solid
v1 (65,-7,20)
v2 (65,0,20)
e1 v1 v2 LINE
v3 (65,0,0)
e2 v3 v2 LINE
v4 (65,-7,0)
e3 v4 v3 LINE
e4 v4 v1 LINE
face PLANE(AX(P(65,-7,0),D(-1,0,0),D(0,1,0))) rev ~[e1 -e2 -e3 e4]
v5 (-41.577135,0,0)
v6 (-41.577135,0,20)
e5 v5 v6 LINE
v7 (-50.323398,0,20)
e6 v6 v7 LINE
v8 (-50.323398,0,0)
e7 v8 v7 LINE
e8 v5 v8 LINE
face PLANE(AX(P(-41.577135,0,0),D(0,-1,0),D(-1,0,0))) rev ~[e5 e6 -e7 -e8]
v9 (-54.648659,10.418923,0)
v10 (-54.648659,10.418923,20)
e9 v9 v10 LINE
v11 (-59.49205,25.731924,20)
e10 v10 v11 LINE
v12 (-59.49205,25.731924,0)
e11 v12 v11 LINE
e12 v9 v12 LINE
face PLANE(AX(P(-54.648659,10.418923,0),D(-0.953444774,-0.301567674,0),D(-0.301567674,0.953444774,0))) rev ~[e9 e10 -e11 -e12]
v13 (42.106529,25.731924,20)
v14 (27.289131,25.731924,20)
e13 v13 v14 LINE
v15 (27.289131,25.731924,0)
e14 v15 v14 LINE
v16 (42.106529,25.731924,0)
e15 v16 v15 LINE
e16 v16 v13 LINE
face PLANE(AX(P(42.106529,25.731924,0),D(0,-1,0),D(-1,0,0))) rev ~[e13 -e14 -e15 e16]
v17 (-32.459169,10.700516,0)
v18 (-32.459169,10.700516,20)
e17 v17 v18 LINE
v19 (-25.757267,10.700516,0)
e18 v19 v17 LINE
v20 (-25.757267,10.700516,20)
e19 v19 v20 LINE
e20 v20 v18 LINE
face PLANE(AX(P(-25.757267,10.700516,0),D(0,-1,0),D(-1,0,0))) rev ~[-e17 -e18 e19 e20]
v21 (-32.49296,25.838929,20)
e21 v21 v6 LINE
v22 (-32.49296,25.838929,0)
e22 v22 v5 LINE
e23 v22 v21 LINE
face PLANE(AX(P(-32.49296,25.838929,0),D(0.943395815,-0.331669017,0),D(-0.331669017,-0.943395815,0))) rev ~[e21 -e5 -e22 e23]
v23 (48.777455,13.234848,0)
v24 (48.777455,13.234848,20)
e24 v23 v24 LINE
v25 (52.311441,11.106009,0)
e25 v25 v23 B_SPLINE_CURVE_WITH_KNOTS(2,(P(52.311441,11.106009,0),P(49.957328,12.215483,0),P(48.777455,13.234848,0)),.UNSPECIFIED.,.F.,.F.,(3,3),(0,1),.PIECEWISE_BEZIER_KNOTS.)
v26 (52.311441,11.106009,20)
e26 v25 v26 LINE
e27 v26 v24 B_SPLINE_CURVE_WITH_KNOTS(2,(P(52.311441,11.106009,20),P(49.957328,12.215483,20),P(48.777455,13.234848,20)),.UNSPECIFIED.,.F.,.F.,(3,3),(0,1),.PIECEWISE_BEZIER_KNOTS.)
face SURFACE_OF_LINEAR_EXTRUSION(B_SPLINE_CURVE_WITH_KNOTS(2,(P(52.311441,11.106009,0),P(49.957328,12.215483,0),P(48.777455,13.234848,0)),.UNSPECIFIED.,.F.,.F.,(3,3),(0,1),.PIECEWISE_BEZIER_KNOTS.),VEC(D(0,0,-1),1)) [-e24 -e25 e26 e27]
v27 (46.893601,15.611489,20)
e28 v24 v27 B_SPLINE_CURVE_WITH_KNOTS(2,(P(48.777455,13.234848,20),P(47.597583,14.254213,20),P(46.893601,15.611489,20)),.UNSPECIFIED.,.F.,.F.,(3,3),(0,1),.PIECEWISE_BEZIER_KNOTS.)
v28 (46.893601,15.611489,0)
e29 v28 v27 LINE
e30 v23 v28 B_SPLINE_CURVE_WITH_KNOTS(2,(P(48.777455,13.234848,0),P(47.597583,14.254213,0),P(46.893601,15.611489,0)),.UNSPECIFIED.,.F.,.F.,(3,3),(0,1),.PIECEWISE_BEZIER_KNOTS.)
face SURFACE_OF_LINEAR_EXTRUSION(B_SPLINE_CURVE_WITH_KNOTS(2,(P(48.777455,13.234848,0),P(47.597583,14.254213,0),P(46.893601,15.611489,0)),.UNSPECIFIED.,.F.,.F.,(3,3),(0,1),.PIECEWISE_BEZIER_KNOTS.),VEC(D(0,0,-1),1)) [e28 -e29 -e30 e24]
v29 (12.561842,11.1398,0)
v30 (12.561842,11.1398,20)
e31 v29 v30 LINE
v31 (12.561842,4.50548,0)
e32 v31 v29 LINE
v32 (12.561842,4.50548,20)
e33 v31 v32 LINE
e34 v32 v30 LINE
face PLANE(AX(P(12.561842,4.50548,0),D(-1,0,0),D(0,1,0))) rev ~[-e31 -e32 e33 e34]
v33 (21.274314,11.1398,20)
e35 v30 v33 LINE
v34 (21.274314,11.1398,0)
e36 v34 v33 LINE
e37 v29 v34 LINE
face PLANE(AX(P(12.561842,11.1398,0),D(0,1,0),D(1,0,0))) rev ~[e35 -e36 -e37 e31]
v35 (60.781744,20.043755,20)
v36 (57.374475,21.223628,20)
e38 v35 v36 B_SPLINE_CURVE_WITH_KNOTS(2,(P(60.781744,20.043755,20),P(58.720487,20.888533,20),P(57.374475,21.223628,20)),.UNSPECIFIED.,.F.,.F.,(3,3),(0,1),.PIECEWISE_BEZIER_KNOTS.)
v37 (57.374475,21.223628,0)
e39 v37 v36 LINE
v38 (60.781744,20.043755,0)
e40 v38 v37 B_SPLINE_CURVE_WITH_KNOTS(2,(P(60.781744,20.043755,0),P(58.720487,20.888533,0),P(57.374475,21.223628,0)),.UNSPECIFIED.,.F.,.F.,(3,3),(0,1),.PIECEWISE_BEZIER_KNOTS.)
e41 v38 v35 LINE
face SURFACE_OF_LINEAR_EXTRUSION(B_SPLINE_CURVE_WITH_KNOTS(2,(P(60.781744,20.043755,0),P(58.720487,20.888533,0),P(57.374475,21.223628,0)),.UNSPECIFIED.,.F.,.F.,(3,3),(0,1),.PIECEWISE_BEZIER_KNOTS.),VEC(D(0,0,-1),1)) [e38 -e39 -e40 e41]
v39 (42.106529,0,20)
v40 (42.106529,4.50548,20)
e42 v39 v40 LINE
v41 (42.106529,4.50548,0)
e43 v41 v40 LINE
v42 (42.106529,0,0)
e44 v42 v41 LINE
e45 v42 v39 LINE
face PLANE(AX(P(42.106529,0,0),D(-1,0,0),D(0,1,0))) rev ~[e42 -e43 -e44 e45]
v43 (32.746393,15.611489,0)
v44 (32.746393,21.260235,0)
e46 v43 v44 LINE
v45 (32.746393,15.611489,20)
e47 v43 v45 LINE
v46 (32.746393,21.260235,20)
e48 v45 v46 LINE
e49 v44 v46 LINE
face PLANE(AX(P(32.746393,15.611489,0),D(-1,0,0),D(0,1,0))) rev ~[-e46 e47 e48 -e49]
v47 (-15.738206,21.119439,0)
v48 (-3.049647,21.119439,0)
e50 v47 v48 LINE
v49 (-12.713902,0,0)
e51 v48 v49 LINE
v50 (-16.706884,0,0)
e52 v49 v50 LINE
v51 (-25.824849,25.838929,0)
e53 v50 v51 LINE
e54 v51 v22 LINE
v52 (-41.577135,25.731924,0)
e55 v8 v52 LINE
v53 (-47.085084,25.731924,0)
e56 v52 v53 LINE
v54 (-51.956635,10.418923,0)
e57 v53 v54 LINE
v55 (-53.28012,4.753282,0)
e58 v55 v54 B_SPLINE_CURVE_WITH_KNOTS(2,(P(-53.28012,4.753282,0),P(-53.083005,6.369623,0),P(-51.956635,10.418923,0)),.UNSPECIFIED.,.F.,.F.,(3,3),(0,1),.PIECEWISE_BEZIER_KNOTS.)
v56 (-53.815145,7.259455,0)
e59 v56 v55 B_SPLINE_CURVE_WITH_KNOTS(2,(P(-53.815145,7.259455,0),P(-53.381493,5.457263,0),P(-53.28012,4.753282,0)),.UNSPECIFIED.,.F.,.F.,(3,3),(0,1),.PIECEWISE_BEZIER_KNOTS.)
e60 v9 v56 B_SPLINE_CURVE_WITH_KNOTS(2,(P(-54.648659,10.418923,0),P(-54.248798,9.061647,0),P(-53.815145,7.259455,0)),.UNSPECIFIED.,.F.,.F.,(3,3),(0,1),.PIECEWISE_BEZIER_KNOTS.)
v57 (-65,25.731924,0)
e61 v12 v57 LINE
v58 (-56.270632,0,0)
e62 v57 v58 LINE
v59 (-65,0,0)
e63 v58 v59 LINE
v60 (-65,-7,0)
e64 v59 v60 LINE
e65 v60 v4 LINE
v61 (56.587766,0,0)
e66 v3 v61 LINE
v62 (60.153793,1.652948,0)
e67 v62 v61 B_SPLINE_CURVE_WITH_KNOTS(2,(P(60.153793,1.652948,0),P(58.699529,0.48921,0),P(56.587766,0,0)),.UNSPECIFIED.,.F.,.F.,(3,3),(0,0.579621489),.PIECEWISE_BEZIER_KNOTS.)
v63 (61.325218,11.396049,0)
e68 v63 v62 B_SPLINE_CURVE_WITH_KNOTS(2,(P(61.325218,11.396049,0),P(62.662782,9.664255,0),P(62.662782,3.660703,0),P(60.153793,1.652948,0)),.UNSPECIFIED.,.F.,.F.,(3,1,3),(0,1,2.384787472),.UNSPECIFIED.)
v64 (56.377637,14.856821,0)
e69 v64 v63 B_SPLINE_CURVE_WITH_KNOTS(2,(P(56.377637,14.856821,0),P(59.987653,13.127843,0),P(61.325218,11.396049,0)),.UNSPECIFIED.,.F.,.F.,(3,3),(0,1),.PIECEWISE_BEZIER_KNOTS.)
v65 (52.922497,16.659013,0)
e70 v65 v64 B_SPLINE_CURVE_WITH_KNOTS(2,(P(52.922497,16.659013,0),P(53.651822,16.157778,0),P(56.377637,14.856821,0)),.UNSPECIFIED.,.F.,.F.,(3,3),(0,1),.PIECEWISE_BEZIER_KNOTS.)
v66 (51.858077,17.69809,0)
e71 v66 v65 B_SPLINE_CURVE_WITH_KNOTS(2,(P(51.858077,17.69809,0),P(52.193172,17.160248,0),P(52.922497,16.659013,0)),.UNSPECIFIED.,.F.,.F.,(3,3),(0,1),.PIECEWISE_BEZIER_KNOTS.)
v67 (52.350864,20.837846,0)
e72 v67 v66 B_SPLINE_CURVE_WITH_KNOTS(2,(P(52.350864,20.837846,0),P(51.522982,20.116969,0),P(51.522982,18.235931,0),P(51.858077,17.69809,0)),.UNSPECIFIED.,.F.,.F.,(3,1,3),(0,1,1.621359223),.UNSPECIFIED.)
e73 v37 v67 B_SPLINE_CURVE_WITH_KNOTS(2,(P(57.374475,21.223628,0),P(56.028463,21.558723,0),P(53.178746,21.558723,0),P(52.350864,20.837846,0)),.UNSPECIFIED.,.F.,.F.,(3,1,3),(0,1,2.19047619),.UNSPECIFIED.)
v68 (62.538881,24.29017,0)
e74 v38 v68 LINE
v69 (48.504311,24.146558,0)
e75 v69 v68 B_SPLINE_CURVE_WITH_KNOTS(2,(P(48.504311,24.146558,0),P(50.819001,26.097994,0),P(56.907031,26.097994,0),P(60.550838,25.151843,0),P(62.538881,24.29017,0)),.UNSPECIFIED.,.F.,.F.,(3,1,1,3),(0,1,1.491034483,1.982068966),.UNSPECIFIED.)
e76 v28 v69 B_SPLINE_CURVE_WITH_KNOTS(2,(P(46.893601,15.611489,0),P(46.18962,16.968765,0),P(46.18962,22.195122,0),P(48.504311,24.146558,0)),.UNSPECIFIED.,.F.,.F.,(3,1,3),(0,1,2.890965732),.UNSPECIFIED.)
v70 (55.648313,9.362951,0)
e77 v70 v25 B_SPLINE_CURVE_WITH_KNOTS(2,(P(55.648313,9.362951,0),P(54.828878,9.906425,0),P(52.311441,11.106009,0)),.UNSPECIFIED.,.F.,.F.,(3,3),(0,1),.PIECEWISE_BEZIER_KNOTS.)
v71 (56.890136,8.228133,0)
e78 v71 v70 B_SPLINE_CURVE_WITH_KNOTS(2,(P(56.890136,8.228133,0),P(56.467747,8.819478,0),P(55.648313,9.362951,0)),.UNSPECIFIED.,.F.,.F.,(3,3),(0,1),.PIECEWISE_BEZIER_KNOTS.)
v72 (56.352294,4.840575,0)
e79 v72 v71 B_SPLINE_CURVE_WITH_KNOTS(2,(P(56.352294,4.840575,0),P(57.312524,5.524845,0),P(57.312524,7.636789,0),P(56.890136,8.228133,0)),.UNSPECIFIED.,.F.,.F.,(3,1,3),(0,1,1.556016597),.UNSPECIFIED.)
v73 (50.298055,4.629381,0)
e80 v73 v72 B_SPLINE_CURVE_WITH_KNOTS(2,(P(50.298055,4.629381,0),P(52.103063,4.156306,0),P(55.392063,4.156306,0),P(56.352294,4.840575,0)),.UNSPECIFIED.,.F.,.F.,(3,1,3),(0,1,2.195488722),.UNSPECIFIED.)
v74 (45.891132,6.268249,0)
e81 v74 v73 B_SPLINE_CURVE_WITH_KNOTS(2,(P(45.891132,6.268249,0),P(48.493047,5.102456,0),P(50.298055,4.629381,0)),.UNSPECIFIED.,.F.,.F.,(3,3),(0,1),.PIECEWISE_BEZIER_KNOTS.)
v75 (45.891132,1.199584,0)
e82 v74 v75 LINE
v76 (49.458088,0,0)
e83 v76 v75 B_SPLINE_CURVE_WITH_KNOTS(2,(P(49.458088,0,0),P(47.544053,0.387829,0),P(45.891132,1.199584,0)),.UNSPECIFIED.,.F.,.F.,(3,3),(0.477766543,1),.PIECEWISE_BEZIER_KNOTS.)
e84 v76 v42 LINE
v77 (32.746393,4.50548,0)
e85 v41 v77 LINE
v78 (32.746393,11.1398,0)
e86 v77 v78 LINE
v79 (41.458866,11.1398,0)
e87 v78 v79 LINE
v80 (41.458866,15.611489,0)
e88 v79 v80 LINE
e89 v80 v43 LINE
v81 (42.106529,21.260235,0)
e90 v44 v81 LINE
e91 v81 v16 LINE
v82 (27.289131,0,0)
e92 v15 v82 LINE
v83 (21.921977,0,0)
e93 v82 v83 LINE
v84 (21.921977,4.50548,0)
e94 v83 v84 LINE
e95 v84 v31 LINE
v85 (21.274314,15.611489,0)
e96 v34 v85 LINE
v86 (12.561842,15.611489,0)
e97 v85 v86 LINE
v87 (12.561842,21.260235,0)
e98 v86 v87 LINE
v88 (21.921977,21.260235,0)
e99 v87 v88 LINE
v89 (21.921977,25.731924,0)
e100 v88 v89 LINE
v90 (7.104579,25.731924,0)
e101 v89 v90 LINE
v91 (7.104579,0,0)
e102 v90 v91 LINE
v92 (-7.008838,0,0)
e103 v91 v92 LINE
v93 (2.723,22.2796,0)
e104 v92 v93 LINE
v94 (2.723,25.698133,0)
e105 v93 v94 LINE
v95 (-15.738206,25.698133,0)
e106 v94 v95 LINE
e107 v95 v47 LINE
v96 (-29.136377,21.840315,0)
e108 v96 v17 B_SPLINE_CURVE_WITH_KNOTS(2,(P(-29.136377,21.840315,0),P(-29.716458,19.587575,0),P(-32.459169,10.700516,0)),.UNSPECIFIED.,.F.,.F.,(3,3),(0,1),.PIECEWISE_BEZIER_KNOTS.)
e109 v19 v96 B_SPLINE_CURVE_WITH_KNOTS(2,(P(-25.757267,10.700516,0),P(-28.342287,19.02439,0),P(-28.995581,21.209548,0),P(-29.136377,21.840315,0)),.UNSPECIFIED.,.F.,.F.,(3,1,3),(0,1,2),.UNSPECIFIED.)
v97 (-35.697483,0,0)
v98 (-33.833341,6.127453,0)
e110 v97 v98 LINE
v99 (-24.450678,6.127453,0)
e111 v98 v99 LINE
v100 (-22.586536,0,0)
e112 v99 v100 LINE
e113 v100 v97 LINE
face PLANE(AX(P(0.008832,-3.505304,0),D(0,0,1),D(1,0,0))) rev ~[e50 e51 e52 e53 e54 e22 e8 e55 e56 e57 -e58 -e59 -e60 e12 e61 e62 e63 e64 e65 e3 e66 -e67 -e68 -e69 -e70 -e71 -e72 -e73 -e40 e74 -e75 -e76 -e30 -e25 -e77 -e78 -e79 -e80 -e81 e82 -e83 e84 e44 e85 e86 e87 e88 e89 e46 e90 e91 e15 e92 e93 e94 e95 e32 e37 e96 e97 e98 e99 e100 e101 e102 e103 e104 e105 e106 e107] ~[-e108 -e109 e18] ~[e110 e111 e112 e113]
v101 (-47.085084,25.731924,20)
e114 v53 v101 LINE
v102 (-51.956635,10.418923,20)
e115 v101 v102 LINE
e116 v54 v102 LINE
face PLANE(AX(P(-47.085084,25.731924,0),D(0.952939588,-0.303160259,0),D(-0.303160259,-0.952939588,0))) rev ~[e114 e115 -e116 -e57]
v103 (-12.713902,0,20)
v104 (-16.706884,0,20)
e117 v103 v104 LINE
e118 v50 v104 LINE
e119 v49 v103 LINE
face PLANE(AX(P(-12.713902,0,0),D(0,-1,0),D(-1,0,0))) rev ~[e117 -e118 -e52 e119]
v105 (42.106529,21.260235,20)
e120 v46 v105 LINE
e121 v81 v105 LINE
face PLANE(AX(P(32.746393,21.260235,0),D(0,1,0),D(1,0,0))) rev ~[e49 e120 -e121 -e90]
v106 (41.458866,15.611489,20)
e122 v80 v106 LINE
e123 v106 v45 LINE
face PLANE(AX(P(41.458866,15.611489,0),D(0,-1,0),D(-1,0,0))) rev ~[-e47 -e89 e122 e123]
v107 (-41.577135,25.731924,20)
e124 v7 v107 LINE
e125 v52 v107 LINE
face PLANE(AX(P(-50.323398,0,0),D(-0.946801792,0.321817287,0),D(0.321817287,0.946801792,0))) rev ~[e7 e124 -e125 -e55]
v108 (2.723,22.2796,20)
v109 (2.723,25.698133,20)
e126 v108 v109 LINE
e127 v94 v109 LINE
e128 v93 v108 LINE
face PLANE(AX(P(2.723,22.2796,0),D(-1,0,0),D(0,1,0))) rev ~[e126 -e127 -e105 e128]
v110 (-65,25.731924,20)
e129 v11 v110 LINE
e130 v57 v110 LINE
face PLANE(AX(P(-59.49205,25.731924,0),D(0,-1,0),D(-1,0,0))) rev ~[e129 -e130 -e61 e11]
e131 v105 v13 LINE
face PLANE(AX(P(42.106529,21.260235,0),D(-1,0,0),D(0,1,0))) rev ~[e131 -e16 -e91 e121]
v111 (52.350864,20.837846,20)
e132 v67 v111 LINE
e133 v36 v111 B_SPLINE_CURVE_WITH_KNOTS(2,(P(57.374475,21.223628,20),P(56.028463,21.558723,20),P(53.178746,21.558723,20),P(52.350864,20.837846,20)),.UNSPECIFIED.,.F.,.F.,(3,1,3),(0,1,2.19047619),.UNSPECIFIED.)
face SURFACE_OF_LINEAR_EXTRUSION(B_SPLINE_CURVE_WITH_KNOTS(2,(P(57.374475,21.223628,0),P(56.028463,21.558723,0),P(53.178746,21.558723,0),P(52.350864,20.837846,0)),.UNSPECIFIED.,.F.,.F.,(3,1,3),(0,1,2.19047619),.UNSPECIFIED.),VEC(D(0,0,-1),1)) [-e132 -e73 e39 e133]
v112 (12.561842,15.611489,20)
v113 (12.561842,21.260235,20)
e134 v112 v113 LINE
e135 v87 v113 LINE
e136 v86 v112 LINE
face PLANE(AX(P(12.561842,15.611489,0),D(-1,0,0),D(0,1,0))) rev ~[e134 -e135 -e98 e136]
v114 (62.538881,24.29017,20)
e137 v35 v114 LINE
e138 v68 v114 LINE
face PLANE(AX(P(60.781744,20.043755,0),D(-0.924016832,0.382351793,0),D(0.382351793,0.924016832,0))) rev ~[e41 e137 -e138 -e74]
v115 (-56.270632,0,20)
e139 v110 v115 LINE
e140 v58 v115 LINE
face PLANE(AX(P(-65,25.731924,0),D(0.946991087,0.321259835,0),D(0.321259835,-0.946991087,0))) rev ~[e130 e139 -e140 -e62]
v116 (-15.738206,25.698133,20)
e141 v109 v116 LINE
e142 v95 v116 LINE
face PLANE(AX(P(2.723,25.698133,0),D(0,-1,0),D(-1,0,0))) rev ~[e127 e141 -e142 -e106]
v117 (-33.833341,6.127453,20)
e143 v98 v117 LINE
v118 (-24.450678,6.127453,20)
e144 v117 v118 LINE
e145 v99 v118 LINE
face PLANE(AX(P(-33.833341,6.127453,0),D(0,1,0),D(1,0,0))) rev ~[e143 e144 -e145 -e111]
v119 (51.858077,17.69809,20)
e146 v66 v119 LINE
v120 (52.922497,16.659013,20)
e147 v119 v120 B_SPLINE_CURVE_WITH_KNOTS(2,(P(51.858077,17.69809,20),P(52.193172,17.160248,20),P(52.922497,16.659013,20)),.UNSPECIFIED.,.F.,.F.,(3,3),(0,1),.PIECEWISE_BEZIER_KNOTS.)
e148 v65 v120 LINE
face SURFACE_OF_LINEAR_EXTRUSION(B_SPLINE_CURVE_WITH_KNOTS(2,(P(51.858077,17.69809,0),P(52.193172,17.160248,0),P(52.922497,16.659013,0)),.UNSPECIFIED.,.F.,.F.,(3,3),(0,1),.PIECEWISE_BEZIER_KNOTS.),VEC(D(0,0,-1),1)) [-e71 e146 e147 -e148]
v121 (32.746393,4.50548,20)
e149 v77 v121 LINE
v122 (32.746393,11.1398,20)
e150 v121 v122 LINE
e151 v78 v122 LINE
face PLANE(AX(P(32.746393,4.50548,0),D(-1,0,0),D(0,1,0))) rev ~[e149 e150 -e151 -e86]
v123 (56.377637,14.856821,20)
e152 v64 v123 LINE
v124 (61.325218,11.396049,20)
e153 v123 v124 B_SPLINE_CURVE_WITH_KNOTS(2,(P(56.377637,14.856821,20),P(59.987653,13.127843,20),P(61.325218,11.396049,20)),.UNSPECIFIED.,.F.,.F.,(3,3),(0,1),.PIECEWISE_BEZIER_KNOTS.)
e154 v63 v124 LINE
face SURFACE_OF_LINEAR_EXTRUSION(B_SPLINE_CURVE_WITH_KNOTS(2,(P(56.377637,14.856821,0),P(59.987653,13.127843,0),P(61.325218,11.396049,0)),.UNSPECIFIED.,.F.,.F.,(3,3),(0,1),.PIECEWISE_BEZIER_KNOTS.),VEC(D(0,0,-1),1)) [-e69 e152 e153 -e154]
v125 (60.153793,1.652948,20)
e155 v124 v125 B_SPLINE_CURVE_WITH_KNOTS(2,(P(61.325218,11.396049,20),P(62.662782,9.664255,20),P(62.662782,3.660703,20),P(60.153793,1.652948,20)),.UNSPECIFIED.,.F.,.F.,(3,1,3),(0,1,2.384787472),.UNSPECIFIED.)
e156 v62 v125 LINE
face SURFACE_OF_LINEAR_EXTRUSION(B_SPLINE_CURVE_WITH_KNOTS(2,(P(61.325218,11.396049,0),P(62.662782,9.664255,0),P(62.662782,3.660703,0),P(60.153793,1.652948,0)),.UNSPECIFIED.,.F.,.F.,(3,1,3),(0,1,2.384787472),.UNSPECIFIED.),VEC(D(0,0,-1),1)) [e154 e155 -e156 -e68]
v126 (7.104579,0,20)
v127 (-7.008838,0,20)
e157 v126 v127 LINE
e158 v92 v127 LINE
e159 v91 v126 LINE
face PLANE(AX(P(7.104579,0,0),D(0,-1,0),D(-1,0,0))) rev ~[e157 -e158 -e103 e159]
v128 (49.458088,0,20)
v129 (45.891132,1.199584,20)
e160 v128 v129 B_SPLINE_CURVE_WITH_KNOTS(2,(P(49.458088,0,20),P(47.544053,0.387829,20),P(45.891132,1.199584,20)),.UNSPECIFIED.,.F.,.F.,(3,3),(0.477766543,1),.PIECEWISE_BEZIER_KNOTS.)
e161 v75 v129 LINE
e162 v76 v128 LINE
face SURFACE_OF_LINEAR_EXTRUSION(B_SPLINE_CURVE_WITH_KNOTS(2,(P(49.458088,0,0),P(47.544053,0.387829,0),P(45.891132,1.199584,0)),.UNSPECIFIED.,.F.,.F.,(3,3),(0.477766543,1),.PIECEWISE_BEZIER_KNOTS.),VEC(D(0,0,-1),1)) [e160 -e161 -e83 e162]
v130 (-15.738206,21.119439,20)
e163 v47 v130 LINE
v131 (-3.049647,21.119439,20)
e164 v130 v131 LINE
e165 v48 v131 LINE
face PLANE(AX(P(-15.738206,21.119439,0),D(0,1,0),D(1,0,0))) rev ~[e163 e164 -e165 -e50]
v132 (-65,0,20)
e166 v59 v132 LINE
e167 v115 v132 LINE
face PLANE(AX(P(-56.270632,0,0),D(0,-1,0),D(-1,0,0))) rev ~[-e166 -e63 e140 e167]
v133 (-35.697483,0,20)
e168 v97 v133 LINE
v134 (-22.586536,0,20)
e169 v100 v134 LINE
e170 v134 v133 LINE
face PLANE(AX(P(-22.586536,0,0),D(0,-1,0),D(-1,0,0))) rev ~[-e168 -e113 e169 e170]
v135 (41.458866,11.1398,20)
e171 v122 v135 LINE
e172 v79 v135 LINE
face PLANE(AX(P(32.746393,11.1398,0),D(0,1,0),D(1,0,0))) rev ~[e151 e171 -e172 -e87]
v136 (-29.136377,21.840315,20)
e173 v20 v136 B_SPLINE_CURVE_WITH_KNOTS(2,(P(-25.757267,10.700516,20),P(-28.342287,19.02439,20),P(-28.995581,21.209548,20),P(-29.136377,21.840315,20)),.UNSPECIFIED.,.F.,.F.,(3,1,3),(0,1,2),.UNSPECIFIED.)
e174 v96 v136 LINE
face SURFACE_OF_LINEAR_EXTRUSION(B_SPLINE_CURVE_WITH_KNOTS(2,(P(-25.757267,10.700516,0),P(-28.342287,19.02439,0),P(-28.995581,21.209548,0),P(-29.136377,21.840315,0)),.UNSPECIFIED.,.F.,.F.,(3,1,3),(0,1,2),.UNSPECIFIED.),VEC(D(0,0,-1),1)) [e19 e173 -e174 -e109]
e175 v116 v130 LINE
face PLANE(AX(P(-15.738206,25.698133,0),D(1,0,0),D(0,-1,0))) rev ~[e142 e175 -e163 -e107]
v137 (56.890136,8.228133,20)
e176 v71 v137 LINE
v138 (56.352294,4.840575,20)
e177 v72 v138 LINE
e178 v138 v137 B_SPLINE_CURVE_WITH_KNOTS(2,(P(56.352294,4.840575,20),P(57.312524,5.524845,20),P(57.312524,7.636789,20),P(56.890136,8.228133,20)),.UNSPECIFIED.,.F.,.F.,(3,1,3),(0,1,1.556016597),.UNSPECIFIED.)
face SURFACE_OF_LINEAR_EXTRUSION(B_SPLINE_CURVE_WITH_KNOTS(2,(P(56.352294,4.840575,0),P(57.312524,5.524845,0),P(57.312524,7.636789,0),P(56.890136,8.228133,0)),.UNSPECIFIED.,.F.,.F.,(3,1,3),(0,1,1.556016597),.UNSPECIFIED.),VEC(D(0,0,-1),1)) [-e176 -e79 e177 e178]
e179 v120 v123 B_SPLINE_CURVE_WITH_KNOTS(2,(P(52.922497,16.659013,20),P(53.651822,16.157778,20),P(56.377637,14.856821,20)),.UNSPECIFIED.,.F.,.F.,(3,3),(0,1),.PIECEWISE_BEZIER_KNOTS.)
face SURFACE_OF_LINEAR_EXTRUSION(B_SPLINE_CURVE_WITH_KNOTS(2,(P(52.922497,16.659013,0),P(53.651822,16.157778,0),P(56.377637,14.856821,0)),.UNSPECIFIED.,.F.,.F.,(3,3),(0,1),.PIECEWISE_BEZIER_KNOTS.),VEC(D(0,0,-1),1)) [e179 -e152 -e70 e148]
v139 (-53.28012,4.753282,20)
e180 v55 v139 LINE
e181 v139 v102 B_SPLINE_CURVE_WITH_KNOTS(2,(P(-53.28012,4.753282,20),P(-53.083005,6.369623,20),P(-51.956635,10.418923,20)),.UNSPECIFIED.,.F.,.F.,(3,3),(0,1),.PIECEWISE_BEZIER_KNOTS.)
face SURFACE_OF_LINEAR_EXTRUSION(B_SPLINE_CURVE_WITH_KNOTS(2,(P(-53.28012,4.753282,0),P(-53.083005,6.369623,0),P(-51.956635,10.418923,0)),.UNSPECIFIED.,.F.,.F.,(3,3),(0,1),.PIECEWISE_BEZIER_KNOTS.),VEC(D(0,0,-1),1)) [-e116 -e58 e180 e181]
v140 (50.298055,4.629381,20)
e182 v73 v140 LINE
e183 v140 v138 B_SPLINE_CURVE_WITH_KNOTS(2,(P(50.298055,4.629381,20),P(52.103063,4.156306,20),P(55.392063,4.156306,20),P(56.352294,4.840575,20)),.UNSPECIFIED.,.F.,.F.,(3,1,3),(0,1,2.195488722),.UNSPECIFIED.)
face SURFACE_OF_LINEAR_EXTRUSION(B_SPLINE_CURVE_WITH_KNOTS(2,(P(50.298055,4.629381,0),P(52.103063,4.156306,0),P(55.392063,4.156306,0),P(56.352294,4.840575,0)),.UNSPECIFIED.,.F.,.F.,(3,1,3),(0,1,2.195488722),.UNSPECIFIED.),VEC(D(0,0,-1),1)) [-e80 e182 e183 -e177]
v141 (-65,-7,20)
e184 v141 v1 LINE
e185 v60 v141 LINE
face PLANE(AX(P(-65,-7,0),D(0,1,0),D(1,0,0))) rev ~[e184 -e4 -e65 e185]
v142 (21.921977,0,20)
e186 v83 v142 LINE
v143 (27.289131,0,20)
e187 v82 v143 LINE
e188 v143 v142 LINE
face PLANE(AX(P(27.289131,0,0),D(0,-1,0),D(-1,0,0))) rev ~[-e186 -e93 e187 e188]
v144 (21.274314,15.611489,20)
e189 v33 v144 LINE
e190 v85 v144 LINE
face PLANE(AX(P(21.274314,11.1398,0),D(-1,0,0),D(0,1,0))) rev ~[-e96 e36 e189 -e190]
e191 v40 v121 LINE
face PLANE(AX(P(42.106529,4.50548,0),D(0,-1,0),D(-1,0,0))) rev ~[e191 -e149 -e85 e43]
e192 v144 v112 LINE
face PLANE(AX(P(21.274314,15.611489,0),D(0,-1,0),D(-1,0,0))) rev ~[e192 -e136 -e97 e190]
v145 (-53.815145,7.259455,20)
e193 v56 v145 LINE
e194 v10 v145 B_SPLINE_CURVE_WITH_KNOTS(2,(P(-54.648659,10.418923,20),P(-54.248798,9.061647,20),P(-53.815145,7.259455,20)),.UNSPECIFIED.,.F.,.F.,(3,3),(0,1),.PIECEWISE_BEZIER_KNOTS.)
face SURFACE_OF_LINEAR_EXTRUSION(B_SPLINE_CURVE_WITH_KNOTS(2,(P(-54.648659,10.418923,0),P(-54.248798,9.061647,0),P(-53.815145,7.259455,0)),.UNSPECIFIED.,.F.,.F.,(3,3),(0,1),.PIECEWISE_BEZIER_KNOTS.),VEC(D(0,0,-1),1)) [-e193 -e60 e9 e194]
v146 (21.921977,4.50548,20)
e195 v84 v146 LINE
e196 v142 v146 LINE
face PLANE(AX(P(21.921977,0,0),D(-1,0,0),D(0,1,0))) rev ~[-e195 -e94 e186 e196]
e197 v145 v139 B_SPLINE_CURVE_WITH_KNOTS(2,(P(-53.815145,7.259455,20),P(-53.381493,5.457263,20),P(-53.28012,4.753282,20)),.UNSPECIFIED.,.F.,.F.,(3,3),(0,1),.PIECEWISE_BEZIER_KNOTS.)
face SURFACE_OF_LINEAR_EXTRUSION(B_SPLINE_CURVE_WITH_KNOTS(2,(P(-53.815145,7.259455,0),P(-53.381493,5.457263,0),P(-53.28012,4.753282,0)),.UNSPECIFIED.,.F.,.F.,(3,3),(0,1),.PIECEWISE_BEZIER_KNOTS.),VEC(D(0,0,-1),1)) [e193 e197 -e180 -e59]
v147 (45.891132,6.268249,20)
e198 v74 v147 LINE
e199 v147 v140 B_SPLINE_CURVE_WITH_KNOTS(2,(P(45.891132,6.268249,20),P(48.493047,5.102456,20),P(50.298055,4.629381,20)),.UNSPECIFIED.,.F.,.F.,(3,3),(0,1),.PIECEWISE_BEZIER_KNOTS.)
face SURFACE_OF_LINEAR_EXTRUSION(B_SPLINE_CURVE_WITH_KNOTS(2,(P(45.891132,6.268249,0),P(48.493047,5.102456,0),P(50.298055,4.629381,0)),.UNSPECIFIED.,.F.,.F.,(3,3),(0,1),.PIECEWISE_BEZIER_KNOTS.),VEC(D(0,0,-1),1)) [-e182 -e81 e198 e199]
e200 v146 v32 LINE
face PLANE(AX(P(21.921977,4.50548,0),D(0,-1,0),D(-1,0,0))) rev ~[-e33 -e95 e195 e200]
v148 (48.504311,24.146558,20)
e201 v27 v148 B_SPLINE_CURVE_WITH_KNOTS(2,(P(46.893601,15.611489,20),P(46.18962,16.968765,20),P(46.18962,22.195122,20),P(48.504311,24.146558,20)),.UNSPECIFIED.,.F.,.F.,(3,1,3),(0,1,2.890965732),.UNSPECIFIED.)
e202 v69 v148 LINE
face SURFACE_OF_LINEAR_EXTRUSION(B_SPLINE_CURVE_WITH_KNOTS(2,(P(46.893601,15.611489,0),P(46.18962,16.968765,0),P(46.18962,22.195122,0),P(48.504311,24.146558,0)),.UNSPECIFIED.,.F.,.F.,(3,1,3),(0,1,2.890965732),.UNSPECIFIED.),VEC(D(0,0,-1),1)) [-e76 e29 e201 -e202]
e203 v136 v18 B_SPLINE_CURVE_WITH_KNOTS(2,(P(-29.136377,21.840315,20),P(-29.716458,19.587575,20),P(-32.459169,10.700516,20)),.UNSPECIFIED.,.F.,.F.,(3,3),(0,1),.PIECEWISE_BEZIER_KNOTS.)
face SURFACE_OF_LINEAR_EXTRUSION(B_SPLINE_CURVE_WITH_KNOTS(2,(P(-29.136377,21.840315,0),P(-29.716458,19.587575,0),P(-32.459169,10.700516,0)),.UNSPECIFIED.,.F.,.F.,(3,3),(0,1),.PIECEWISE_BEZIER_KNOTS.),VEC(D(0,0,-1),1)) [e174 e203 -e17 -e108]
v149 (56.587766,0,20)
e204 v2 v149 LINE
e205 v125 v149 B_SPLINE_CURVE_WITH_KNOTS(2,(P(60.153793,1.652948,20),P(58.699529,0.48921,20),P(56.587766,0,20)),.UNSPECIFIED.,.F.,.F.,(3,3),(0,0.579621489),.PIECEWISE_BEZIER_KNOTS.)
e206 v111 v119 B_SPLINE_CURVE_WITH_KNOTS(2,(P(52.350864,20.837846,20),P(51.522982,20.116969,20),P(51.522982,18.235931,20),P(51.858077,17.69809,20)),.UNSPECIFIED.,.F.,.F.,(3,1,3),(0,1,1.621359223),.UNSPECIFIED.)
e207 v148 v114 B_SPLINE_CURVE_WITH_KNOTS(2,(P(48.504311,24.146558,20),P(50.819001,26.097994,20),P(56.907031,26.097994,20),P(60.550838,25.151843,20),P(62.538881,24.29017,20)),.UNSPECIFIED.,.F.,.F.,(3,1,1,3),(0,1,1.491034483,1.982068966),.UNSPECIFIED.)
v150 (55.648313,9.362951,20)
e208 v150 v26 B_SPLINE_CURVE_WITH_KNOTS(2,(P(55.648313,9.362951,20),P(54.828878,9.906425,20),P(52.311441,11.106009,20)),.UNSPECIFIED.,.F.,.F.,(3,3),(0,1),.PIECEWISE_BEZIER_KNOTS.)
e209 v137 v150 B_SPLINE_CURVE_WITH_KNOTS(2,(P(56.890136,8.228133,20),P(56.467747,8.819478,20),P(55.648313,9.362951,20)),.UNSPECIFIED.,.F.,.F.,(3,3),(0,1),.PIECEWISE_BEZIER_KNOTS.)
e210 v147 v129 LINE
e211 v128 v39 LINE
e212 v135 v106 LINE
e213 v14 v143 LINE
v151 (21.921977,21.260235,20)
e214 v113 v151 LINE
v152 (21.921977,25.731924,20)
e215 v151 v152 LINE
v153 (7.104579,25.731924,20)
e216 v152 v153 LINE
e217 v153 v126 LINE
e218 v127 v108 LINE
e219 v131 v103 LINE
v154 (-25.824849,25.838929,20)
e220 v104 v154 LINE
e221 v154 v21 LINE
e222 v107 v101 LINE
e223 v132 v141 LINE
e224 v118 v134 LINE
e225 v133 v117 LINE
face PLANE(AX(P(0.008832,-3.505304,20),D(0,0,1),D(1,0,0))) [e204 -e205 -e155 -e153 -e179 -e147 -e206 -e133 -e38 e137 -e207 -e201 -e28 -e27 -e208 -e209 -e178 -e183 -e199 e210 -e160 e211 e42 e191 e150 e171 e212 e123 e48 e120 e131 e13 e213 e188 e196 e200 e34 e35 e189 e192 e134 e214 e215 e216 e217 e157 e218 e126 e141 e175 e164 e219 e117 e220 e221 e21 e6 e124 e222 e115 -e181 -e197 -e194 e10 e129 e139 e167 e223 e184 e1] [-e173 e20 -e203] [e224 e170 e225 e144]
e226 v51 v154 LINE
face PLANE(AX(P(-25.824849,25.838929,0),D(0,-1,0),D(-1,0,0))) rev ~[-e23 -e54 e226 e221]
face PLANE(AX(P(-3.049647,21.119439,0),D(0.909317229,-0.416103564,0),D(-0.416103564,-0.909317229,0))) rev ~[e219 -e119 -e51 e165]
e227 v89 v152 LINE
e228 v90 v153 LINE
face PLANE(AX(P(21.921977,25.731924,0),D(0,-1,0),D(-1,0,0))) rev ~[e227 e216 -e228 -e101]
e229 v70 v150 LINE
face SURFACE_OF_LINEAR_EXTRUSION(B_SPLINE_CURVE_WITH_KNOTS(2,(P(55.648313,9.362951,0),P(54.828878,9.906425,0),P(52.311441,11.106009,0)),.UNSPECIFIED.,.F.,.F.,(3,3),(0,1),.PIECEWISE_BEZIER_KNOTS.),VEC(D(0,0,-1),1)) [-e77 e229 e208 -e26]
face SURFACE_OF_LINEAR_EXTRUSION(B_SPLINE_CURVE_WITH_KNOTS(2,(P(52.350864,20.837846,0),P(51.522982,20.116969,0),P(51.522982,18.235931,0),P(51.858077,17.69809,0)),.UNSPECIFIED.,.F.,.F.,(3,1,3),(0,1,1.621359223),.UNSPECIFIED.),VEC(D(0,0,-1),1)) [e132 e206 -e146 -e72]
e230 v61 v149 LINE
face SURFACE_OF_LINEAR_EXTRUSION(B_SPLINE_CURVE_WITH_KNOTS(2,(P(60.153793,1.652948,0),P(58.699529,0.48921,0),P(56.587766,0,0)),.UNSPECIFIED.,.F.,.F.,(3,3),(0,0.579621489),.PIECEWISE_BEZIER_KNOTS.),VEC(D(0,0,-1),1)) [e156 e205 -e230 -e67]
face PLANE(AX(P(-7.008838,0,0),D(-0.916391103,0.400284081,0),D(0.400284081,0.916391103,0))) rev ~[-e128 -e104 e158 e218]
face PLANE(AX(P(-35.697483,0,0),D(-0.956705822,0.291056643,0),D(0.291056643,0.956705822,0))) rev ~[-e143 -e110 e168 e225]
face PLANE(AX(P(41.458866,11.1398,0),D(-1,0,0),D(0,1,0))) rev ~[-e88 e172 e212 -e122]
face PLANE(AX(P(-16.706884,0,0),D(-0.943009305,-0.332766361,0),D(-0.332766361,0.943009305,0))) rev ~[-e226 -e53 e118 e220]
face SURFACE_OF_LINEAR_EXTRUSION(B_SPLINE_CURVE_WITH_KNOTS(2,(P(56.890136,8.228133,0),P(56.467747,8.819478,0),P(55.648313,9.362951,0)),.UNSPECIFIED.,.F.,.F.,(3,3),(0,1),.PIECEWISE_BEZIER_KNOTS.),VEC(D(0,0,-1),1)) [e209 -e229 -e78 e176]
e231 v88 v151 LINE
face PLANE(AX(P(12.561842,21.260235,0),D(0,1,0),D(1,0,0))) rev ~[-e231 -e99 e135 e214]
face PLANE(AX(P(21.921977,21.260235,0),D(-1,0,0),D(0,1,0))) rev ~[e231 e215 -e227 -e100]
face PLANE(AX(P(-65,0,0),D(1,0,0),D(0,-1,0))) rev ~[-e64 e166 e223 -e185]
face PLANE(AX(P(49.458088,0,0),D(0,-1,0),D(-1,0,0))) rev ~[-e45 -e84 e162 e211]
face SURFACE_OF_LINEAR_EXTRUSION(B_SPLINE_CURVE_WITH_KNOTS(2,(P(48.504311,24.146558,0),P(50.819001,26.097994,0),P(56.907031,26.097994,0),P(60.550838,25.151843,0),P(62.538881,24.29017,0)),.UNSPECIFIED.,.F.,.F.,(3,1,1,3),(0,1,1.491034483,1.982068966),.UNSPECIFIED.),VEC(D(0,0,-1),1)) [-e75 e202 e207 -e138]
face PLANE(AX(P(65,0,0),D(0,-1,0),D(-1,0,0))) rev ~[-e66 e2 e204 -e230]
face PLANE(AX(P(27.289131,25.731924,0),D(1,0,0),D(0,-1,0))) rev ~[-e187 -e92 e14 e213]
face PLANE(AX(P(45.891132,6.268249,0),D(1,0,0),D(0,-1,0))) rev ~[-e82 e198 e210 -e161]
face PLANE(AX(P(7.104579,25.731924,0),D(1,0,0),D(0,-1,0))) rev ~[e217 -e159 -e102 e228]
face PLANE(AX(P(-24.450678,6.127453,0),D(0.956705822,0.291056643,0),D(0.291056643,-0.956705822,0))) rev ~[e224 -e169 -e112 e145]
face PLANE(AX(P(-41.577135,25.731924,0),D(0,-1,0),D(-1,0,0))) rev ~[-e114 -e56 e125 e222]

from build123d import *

# Parameters (mm, degrees)
F1_DEPTH = 20


with BuildPart() as f1:
    # F0 (on Top) → F1 (new body)
    with BuildSketch(Plane.XY):
        with BuildLine():
            Line((-56.2706320669, 0), (-65, 0))
            Line((-65, 0), (-65, -7))
            Line((-65, -7), (65, -7))
            Line((65, -7), (65, 0))
            Line((65, 0), (56.5877659568, 0))
            add(Edge.make_bspline(
                [(56.5877659568, 0), (55.0561807697, -0.3548065676), (53.1787462635, -0.3548065676)],
                knots=[0.5796214889, 0.5796214889, 0.5796214889, 1, 1, 1], degree=2))
            add(Edge.make_bspline(
                [(53.1787462635, -0.3548065676), (51.2091468082, -0.3548065676), (49.45808763, 0)],
                knots=[0, 0, 0, 0.477766543, 0.477766543, 0.477766543], degree=2))
            Line((49.45808763, 0), (42.1065286141, 0))
            Line((42.1065286141, 0), (27.289130529, 0))
            Line((27.289130529, 0), (21.9219772127, 0))
            Line((21.9219772127, 0), (7.1045791275, 0))
            Line((7.1045791275, 0), (-7.0088376727, 0))
            Line((-7.0088376727, 0), (-12.7139020058, 0))
            Line((-12.7139020058, 0), (-16.7068838539, 0))
            Line((-16.7068838539, 0), (-22.5865355456, 0))
            Line((-22.5865355456, 0), (-35.6974829961, 0))
            Line((-35.6974829961, 0), (-41.5771346879, 0))
            Line((-41.5771346879, 0), (-50.3233981718, 0))
            Line((-50.3233981718, 0), (-56.2706320669, 0))
        make_face()
        with BuildLine():
            Line((-65, 25.7319239267), (-56.2706320669, 0))
            Line((-56.2706320669, 0), (-50.3233981718, 0))
            Line((-50.3233981718, 0), (-41.5771346879, 25.7319239267))
            Line((-41.5771346879, 25.7319239267), (-47.0850842611, 25.7319239267))
            Line((-47.0850842611, 25.7319239267), (-51.9566347528, 10.4189230169))
            add(Edge.make_bspline(
                [(-53.2801195685, 4.7532816358), (-53.0830048087, 6.369622666), (-51.9566347528, 10.4189230169)],
                knots=[0, 0, 0, 1, 1, 1], degree=2))
            add(Edge.make_bspline(
                [(-53.8151453451, 7.2594550102), (-53.3814928735, 5.4572629208), (-53.2801195685, 4.7532816358)],
                knots=[0, 0, 0, 1, 1, 1], degree=2))
            add(Edge.make_bspline(
                [(-54.6486591864, 10.4189230169), (-54.2487978166, 9.0616470996), (-53.8151453451, 7.2594550102)],
                knots=[0, 0, 0, 1, 1, 1], degree=2))
            Line((-54.6486591864, 10.4189230169), (-59.4920504267, 25.7319239267))
            Line((-59.4920504267, 25.7319239267), (-65, 25.7319239267))
        make_face()
        Polygon((-32.4929601872, 25.838929082), (-41.5771346879, 0), (-35.6974829961, 0), (-33.8333405537, 6.127453104), (-24.4506779881, 6.127453104), (-22.5865355456, 0), (-16.7068838539, 0), (-25.8248494563, 25.838929082), align=None)
        with BuildLine():
            add(Edge.make_bspline(
                [(-25.757267253, 10.7005155309), (-28.3422865312, 19.0243902439), (-28.6689338474, 20.1169691981)],
                knots=[0, 0, 0, 1, 1, 1], degree=2))
            Line((-25.757267253, 10.7005155309), (-32.4591690855, 10.7005155309))
            add(Edge.make_bspline(
                [(-29.1363774206, 21.8403153836), (-29.7164579994, 19.5875752718), (-32.4591690855, 10.7005155309)],
                knots=[0, 0, 0, 1, 1, 1], degree=2))
            add(Edge.make_bspline(
                [(-28.6689338474, 20.1169691981), (-28.9955811636, 21.2095481523), (-29.1363774206, 21.8403153836)],
                knots=[0, 0, 0, 1, 1, 1], degree=2))
        make_face(mode=Mode.SUBTRACT)
        with BuildLine():
            add(Edge.make_bspline(
                [(56.5877659568, 0), (55.0561807697, -0.3548065676), (53.1787462635, -0.3548065676)],
                knots=[0.5796214889, 0.5796214889, 0.5796214889, 1, 1, 1], degree=2))
            Line((56.5877659568, 0), (49.45808763, 0))
            add(Edge.make_bspline(
                [(53.1787462635, -0.3548065676), (51.2091468082, -0.3548065676), (49.45808763, 0)],
                knots=[0, 0, 0, 0.477766543, 0.477766543, 0.477766543], degree=2))
        make_face()
        with BuildLine():
            Line((49.45808763, 0), (56.5877659568, 0))
            add(Edge.make_bspline(
                [(60.1537928346, 1.652948057), (58.6995287211, 0.4892103321), (56.5877659568, 0)],
                knots=[0, 0, 0, 0.5796214889, 0.5796214889, 0.5796214889], degree=2))
            add(Edge.make_bspline(
                [(62.662782134, 7.1468180046), (62.662782134, 3.6607026816), (60.1537928346, 1.652948057)],
                knots=[0, 0, 0, 1, 1, 1], degree=2))
            add(Edge.make_bspline(
                [(61.3252176927, 11.3960490404), (62.662782134, 9.6642550795), (62.662782134, 7.1468180046)],
                knots=[0, 0, 0, 1, 1, 1], degree=2))
            add(Edge.make_bspline(
                [(56.3776372222, 14.8568210371), (59.9876532513, 13.1278430013), (61.3252176927, 11.3960490404)],
                knots=[0, 0, 0, 1, 1, 1], degree=2))
            add(Edge.make_bspline(
                [(52.9224970758, 16.6590131265), (53.651821687, 16.1577784517), (56.3776372222, 14.8568210371)],
                knots=[0, 0, 0, 1, 1, 1], degree=2))
            add(Edge.make_bspline(
                [(51.858077373, 17.6980895031), (52.1931724646, 17.1602478014), (52.9224970758, 16.6590131265)],
                knots=[0, 0, 0, 1, 1, 1], degree=2))
            add(Edge.make_bspline(
                [(51.5229822813, 18.9568080405), (51.5229822813, 18.2359312048), (51.858077373, 17.6980895031)],
                knots=[0, 0, 0, 1, 1, 1], degree=2))
            add(Edge.make_bspline(
                [(52.3508642724, 20.8378460339), (51.5229822813, 20.1169691981), (51.5229822813, 18.9568080405)],
                knots=[0, 0, 0, 1, 1, 1], degree=2))
            add(Edge.make_bspline(
                [(54.7275050903, 21.5587228696), (53.1787462635, 21.5587228696), (52.3508642724, 20.8378460339)],
                knots=[0, 0, 0, 1, 1, 1], degree=2))
            add(Edge.make_bspline(
                [(57.3744747217, 21.223627778), (56.0284625049, 21.5587228696), (54.7275050903, 21.5587228696)],
                knots=[0, 0, 0, 1, 1, 1], degree=2))
            add(Edge.make_bspline(
                [(60.7817441407, 20.0437551445), (58.7204869384, 20.8885326864), (57.3744747217, 21.223627778)],
                knots=[0, 0, 0, 1, 1, 1], degree=2))
            Line((60.7817441407, 20.0437551445), (62.5388814279, 24.2901702552))
            add(Edge.make_bspline(
                [(58.7289347139, 25.6249187714), (60.5508382793, 25.1518433479), (62.5388814279, 24.2901702552)],
                knots=[0, 0, 0, 1, 1, 1], degree=2))
            add(Edge.make_bspline(
                [(54.902092449, 26.0979941949), (56.9070311485, 26.0979941949), (58.7289347139, 25.6249187714)],
                knots=[0, 0, 0, 1, 1, 1], degree=2))
            add(Edge.make_bspline(
                [(48.5043105316, 24.146558073), (50.8190009964, 26.0979941949), (54.902092449, 26.0979941949)],
                knots=[0, 0, 0, 1, 1, 1], degree=2))
            add(Edge.make_bspline(
                [(46.1896200667, 18.7765888316), (46.1896200667, 22.1951219512), (48.5043105316, 24.146558073)],
                knots=[0, 0, 0, 1, 1, 1], degree=2))
            add(Edge.make_bspline(
                [(46.8936013516, 15.6114889746), (46.1896200667, 16.9687648919), (46.1896200667, 18.7765888316)],
                knots=[0, 0, 0, 1, 1, 1], degree=2))
            add(Edge.make_bspline(
                [(48.7774552701, 13.2348481567), (47.5975826366, 14.2542130572), (46.8936013516, 15.6114889746)],
                knots=[0, 0, 0, 1, 1, 1], degree=2))
            add(Edge.make_bspline(
                [(52.3114413205, 11.106008751), (49.9573279037, 12.2154832561), (48.7774552701, 13.2348481567)],
                knots=[0, 0, 0, 1, 1, 1], degree=2))
            add(Edge.make_bspline(
                [(55.648312611, 9.3629510895), (54.8288783954, 9.9064246415), (52.3114413205, 11.106008751)],
                knots=[0, 0, 0, 1, 1, 1], degree=2))
            add(Edge.make_bspline(
                [(56.8901355976, 8.2281332582), (56.4677468267, 8.8194775376), (55.648312611, 9.3629510895)],
                knots=[0, 0, 0, 1, 1, 1], degree=2))
            add(Edge.make_bspline(
                [(57.3125243686, 6.8821210415), (57.3125243686, 7.6367889789), (56.8901355976, 8.2281332582)],
                knots=[0, 0, 0, 1, 1, 1], degree=2))
            add(Edge.make_bspline(
                [(56.3522938959, 4.8405753152), (57.3125243686, 5.5248451241), (57.3125243686, 6.8821210415)],
                knots=[0, 0, 0, 1, 1, 1], degree=2))
            add(Edge.make_bspline(
                [(53.6011350344, 4.1563055062), (55.3920634233, 4.1563055062), (56.3522938959, 4.8405753152)],
                knots=[0, 0, 0, 1, 1, 1], degree=2))
            add(Edge.make_bspline(
                [(50.2980548456, 4.6293809297), (52.1030628601, 4.1563055062), (53.6011350344, 4.1563055062)],
                knots=[0, 0, 0, 1, 1, 1], degree=2))
            add(Edge.make_bspline(
                [(45.8911320019, 6.268249361), (48.493046831, 5.1024563532), (50.2980548456, 4.6293809297)],
                knots=[0, 0, 0, 1, 1, 1], degree=2))
            Line((45.8911320019, 6.268249361), (45.8911320019, 1.1995841095))
            add(Edge.make_bspline(
                [(49.45808763, 0), (47.5440530421, 0.3878292926), (45.8911320019, 1.1995841095)],
                knots=[0.477766543, 0.477766543, 0.477766543, 1, 1, 1], degree=2))
        make_face()
        Polygon((27.289130529, 0), (42.1065286141, 0), (42.1065286141, 4.5054802235), (32.7463934497, 4.5054802235), (32.7463934497, 11.1397998527), (41.458865832, 11.1397998527), (41.458865832, 15.6114889746), (32.7463934497, 15.6114889746), (32.7463934497, 21.2602348048), (42.1065286141, 21.2602348048), (42.1065286141, 25.7319239267), (27.289130529, 25.7319239267), align=None)
        Polygon((-3.0496469263, 21.1194385478), (-12.7139020058, 0), (-7.0088376727, 0), (2.7229996101, 22.2795997054), (2.7229996101, 25.698132825), (-15.7382056059, 25.698132825), (-15.7382056059, 21.1194385478), align=None)
        Polygon((7.1045791275, 0), (21.9219772127, 0), (21.9219772127, 4.5054802235), (12.5618420483, 4.5054802235), (12.5618420483, 11.1397998527), (21.2743144305, 11.1397998527), (21.2743144305, 15.6114889746), (12.5618420483, 15.6114889746), (12.5618420483, 21.2602348048), (21.9219772127, 21.2602348048), (21.9219772127, 25.7319239267), (7.1045791275, 25.7319239267), align=None)
    extrude(amount=F1_DEPTH)


solid = f1.part
